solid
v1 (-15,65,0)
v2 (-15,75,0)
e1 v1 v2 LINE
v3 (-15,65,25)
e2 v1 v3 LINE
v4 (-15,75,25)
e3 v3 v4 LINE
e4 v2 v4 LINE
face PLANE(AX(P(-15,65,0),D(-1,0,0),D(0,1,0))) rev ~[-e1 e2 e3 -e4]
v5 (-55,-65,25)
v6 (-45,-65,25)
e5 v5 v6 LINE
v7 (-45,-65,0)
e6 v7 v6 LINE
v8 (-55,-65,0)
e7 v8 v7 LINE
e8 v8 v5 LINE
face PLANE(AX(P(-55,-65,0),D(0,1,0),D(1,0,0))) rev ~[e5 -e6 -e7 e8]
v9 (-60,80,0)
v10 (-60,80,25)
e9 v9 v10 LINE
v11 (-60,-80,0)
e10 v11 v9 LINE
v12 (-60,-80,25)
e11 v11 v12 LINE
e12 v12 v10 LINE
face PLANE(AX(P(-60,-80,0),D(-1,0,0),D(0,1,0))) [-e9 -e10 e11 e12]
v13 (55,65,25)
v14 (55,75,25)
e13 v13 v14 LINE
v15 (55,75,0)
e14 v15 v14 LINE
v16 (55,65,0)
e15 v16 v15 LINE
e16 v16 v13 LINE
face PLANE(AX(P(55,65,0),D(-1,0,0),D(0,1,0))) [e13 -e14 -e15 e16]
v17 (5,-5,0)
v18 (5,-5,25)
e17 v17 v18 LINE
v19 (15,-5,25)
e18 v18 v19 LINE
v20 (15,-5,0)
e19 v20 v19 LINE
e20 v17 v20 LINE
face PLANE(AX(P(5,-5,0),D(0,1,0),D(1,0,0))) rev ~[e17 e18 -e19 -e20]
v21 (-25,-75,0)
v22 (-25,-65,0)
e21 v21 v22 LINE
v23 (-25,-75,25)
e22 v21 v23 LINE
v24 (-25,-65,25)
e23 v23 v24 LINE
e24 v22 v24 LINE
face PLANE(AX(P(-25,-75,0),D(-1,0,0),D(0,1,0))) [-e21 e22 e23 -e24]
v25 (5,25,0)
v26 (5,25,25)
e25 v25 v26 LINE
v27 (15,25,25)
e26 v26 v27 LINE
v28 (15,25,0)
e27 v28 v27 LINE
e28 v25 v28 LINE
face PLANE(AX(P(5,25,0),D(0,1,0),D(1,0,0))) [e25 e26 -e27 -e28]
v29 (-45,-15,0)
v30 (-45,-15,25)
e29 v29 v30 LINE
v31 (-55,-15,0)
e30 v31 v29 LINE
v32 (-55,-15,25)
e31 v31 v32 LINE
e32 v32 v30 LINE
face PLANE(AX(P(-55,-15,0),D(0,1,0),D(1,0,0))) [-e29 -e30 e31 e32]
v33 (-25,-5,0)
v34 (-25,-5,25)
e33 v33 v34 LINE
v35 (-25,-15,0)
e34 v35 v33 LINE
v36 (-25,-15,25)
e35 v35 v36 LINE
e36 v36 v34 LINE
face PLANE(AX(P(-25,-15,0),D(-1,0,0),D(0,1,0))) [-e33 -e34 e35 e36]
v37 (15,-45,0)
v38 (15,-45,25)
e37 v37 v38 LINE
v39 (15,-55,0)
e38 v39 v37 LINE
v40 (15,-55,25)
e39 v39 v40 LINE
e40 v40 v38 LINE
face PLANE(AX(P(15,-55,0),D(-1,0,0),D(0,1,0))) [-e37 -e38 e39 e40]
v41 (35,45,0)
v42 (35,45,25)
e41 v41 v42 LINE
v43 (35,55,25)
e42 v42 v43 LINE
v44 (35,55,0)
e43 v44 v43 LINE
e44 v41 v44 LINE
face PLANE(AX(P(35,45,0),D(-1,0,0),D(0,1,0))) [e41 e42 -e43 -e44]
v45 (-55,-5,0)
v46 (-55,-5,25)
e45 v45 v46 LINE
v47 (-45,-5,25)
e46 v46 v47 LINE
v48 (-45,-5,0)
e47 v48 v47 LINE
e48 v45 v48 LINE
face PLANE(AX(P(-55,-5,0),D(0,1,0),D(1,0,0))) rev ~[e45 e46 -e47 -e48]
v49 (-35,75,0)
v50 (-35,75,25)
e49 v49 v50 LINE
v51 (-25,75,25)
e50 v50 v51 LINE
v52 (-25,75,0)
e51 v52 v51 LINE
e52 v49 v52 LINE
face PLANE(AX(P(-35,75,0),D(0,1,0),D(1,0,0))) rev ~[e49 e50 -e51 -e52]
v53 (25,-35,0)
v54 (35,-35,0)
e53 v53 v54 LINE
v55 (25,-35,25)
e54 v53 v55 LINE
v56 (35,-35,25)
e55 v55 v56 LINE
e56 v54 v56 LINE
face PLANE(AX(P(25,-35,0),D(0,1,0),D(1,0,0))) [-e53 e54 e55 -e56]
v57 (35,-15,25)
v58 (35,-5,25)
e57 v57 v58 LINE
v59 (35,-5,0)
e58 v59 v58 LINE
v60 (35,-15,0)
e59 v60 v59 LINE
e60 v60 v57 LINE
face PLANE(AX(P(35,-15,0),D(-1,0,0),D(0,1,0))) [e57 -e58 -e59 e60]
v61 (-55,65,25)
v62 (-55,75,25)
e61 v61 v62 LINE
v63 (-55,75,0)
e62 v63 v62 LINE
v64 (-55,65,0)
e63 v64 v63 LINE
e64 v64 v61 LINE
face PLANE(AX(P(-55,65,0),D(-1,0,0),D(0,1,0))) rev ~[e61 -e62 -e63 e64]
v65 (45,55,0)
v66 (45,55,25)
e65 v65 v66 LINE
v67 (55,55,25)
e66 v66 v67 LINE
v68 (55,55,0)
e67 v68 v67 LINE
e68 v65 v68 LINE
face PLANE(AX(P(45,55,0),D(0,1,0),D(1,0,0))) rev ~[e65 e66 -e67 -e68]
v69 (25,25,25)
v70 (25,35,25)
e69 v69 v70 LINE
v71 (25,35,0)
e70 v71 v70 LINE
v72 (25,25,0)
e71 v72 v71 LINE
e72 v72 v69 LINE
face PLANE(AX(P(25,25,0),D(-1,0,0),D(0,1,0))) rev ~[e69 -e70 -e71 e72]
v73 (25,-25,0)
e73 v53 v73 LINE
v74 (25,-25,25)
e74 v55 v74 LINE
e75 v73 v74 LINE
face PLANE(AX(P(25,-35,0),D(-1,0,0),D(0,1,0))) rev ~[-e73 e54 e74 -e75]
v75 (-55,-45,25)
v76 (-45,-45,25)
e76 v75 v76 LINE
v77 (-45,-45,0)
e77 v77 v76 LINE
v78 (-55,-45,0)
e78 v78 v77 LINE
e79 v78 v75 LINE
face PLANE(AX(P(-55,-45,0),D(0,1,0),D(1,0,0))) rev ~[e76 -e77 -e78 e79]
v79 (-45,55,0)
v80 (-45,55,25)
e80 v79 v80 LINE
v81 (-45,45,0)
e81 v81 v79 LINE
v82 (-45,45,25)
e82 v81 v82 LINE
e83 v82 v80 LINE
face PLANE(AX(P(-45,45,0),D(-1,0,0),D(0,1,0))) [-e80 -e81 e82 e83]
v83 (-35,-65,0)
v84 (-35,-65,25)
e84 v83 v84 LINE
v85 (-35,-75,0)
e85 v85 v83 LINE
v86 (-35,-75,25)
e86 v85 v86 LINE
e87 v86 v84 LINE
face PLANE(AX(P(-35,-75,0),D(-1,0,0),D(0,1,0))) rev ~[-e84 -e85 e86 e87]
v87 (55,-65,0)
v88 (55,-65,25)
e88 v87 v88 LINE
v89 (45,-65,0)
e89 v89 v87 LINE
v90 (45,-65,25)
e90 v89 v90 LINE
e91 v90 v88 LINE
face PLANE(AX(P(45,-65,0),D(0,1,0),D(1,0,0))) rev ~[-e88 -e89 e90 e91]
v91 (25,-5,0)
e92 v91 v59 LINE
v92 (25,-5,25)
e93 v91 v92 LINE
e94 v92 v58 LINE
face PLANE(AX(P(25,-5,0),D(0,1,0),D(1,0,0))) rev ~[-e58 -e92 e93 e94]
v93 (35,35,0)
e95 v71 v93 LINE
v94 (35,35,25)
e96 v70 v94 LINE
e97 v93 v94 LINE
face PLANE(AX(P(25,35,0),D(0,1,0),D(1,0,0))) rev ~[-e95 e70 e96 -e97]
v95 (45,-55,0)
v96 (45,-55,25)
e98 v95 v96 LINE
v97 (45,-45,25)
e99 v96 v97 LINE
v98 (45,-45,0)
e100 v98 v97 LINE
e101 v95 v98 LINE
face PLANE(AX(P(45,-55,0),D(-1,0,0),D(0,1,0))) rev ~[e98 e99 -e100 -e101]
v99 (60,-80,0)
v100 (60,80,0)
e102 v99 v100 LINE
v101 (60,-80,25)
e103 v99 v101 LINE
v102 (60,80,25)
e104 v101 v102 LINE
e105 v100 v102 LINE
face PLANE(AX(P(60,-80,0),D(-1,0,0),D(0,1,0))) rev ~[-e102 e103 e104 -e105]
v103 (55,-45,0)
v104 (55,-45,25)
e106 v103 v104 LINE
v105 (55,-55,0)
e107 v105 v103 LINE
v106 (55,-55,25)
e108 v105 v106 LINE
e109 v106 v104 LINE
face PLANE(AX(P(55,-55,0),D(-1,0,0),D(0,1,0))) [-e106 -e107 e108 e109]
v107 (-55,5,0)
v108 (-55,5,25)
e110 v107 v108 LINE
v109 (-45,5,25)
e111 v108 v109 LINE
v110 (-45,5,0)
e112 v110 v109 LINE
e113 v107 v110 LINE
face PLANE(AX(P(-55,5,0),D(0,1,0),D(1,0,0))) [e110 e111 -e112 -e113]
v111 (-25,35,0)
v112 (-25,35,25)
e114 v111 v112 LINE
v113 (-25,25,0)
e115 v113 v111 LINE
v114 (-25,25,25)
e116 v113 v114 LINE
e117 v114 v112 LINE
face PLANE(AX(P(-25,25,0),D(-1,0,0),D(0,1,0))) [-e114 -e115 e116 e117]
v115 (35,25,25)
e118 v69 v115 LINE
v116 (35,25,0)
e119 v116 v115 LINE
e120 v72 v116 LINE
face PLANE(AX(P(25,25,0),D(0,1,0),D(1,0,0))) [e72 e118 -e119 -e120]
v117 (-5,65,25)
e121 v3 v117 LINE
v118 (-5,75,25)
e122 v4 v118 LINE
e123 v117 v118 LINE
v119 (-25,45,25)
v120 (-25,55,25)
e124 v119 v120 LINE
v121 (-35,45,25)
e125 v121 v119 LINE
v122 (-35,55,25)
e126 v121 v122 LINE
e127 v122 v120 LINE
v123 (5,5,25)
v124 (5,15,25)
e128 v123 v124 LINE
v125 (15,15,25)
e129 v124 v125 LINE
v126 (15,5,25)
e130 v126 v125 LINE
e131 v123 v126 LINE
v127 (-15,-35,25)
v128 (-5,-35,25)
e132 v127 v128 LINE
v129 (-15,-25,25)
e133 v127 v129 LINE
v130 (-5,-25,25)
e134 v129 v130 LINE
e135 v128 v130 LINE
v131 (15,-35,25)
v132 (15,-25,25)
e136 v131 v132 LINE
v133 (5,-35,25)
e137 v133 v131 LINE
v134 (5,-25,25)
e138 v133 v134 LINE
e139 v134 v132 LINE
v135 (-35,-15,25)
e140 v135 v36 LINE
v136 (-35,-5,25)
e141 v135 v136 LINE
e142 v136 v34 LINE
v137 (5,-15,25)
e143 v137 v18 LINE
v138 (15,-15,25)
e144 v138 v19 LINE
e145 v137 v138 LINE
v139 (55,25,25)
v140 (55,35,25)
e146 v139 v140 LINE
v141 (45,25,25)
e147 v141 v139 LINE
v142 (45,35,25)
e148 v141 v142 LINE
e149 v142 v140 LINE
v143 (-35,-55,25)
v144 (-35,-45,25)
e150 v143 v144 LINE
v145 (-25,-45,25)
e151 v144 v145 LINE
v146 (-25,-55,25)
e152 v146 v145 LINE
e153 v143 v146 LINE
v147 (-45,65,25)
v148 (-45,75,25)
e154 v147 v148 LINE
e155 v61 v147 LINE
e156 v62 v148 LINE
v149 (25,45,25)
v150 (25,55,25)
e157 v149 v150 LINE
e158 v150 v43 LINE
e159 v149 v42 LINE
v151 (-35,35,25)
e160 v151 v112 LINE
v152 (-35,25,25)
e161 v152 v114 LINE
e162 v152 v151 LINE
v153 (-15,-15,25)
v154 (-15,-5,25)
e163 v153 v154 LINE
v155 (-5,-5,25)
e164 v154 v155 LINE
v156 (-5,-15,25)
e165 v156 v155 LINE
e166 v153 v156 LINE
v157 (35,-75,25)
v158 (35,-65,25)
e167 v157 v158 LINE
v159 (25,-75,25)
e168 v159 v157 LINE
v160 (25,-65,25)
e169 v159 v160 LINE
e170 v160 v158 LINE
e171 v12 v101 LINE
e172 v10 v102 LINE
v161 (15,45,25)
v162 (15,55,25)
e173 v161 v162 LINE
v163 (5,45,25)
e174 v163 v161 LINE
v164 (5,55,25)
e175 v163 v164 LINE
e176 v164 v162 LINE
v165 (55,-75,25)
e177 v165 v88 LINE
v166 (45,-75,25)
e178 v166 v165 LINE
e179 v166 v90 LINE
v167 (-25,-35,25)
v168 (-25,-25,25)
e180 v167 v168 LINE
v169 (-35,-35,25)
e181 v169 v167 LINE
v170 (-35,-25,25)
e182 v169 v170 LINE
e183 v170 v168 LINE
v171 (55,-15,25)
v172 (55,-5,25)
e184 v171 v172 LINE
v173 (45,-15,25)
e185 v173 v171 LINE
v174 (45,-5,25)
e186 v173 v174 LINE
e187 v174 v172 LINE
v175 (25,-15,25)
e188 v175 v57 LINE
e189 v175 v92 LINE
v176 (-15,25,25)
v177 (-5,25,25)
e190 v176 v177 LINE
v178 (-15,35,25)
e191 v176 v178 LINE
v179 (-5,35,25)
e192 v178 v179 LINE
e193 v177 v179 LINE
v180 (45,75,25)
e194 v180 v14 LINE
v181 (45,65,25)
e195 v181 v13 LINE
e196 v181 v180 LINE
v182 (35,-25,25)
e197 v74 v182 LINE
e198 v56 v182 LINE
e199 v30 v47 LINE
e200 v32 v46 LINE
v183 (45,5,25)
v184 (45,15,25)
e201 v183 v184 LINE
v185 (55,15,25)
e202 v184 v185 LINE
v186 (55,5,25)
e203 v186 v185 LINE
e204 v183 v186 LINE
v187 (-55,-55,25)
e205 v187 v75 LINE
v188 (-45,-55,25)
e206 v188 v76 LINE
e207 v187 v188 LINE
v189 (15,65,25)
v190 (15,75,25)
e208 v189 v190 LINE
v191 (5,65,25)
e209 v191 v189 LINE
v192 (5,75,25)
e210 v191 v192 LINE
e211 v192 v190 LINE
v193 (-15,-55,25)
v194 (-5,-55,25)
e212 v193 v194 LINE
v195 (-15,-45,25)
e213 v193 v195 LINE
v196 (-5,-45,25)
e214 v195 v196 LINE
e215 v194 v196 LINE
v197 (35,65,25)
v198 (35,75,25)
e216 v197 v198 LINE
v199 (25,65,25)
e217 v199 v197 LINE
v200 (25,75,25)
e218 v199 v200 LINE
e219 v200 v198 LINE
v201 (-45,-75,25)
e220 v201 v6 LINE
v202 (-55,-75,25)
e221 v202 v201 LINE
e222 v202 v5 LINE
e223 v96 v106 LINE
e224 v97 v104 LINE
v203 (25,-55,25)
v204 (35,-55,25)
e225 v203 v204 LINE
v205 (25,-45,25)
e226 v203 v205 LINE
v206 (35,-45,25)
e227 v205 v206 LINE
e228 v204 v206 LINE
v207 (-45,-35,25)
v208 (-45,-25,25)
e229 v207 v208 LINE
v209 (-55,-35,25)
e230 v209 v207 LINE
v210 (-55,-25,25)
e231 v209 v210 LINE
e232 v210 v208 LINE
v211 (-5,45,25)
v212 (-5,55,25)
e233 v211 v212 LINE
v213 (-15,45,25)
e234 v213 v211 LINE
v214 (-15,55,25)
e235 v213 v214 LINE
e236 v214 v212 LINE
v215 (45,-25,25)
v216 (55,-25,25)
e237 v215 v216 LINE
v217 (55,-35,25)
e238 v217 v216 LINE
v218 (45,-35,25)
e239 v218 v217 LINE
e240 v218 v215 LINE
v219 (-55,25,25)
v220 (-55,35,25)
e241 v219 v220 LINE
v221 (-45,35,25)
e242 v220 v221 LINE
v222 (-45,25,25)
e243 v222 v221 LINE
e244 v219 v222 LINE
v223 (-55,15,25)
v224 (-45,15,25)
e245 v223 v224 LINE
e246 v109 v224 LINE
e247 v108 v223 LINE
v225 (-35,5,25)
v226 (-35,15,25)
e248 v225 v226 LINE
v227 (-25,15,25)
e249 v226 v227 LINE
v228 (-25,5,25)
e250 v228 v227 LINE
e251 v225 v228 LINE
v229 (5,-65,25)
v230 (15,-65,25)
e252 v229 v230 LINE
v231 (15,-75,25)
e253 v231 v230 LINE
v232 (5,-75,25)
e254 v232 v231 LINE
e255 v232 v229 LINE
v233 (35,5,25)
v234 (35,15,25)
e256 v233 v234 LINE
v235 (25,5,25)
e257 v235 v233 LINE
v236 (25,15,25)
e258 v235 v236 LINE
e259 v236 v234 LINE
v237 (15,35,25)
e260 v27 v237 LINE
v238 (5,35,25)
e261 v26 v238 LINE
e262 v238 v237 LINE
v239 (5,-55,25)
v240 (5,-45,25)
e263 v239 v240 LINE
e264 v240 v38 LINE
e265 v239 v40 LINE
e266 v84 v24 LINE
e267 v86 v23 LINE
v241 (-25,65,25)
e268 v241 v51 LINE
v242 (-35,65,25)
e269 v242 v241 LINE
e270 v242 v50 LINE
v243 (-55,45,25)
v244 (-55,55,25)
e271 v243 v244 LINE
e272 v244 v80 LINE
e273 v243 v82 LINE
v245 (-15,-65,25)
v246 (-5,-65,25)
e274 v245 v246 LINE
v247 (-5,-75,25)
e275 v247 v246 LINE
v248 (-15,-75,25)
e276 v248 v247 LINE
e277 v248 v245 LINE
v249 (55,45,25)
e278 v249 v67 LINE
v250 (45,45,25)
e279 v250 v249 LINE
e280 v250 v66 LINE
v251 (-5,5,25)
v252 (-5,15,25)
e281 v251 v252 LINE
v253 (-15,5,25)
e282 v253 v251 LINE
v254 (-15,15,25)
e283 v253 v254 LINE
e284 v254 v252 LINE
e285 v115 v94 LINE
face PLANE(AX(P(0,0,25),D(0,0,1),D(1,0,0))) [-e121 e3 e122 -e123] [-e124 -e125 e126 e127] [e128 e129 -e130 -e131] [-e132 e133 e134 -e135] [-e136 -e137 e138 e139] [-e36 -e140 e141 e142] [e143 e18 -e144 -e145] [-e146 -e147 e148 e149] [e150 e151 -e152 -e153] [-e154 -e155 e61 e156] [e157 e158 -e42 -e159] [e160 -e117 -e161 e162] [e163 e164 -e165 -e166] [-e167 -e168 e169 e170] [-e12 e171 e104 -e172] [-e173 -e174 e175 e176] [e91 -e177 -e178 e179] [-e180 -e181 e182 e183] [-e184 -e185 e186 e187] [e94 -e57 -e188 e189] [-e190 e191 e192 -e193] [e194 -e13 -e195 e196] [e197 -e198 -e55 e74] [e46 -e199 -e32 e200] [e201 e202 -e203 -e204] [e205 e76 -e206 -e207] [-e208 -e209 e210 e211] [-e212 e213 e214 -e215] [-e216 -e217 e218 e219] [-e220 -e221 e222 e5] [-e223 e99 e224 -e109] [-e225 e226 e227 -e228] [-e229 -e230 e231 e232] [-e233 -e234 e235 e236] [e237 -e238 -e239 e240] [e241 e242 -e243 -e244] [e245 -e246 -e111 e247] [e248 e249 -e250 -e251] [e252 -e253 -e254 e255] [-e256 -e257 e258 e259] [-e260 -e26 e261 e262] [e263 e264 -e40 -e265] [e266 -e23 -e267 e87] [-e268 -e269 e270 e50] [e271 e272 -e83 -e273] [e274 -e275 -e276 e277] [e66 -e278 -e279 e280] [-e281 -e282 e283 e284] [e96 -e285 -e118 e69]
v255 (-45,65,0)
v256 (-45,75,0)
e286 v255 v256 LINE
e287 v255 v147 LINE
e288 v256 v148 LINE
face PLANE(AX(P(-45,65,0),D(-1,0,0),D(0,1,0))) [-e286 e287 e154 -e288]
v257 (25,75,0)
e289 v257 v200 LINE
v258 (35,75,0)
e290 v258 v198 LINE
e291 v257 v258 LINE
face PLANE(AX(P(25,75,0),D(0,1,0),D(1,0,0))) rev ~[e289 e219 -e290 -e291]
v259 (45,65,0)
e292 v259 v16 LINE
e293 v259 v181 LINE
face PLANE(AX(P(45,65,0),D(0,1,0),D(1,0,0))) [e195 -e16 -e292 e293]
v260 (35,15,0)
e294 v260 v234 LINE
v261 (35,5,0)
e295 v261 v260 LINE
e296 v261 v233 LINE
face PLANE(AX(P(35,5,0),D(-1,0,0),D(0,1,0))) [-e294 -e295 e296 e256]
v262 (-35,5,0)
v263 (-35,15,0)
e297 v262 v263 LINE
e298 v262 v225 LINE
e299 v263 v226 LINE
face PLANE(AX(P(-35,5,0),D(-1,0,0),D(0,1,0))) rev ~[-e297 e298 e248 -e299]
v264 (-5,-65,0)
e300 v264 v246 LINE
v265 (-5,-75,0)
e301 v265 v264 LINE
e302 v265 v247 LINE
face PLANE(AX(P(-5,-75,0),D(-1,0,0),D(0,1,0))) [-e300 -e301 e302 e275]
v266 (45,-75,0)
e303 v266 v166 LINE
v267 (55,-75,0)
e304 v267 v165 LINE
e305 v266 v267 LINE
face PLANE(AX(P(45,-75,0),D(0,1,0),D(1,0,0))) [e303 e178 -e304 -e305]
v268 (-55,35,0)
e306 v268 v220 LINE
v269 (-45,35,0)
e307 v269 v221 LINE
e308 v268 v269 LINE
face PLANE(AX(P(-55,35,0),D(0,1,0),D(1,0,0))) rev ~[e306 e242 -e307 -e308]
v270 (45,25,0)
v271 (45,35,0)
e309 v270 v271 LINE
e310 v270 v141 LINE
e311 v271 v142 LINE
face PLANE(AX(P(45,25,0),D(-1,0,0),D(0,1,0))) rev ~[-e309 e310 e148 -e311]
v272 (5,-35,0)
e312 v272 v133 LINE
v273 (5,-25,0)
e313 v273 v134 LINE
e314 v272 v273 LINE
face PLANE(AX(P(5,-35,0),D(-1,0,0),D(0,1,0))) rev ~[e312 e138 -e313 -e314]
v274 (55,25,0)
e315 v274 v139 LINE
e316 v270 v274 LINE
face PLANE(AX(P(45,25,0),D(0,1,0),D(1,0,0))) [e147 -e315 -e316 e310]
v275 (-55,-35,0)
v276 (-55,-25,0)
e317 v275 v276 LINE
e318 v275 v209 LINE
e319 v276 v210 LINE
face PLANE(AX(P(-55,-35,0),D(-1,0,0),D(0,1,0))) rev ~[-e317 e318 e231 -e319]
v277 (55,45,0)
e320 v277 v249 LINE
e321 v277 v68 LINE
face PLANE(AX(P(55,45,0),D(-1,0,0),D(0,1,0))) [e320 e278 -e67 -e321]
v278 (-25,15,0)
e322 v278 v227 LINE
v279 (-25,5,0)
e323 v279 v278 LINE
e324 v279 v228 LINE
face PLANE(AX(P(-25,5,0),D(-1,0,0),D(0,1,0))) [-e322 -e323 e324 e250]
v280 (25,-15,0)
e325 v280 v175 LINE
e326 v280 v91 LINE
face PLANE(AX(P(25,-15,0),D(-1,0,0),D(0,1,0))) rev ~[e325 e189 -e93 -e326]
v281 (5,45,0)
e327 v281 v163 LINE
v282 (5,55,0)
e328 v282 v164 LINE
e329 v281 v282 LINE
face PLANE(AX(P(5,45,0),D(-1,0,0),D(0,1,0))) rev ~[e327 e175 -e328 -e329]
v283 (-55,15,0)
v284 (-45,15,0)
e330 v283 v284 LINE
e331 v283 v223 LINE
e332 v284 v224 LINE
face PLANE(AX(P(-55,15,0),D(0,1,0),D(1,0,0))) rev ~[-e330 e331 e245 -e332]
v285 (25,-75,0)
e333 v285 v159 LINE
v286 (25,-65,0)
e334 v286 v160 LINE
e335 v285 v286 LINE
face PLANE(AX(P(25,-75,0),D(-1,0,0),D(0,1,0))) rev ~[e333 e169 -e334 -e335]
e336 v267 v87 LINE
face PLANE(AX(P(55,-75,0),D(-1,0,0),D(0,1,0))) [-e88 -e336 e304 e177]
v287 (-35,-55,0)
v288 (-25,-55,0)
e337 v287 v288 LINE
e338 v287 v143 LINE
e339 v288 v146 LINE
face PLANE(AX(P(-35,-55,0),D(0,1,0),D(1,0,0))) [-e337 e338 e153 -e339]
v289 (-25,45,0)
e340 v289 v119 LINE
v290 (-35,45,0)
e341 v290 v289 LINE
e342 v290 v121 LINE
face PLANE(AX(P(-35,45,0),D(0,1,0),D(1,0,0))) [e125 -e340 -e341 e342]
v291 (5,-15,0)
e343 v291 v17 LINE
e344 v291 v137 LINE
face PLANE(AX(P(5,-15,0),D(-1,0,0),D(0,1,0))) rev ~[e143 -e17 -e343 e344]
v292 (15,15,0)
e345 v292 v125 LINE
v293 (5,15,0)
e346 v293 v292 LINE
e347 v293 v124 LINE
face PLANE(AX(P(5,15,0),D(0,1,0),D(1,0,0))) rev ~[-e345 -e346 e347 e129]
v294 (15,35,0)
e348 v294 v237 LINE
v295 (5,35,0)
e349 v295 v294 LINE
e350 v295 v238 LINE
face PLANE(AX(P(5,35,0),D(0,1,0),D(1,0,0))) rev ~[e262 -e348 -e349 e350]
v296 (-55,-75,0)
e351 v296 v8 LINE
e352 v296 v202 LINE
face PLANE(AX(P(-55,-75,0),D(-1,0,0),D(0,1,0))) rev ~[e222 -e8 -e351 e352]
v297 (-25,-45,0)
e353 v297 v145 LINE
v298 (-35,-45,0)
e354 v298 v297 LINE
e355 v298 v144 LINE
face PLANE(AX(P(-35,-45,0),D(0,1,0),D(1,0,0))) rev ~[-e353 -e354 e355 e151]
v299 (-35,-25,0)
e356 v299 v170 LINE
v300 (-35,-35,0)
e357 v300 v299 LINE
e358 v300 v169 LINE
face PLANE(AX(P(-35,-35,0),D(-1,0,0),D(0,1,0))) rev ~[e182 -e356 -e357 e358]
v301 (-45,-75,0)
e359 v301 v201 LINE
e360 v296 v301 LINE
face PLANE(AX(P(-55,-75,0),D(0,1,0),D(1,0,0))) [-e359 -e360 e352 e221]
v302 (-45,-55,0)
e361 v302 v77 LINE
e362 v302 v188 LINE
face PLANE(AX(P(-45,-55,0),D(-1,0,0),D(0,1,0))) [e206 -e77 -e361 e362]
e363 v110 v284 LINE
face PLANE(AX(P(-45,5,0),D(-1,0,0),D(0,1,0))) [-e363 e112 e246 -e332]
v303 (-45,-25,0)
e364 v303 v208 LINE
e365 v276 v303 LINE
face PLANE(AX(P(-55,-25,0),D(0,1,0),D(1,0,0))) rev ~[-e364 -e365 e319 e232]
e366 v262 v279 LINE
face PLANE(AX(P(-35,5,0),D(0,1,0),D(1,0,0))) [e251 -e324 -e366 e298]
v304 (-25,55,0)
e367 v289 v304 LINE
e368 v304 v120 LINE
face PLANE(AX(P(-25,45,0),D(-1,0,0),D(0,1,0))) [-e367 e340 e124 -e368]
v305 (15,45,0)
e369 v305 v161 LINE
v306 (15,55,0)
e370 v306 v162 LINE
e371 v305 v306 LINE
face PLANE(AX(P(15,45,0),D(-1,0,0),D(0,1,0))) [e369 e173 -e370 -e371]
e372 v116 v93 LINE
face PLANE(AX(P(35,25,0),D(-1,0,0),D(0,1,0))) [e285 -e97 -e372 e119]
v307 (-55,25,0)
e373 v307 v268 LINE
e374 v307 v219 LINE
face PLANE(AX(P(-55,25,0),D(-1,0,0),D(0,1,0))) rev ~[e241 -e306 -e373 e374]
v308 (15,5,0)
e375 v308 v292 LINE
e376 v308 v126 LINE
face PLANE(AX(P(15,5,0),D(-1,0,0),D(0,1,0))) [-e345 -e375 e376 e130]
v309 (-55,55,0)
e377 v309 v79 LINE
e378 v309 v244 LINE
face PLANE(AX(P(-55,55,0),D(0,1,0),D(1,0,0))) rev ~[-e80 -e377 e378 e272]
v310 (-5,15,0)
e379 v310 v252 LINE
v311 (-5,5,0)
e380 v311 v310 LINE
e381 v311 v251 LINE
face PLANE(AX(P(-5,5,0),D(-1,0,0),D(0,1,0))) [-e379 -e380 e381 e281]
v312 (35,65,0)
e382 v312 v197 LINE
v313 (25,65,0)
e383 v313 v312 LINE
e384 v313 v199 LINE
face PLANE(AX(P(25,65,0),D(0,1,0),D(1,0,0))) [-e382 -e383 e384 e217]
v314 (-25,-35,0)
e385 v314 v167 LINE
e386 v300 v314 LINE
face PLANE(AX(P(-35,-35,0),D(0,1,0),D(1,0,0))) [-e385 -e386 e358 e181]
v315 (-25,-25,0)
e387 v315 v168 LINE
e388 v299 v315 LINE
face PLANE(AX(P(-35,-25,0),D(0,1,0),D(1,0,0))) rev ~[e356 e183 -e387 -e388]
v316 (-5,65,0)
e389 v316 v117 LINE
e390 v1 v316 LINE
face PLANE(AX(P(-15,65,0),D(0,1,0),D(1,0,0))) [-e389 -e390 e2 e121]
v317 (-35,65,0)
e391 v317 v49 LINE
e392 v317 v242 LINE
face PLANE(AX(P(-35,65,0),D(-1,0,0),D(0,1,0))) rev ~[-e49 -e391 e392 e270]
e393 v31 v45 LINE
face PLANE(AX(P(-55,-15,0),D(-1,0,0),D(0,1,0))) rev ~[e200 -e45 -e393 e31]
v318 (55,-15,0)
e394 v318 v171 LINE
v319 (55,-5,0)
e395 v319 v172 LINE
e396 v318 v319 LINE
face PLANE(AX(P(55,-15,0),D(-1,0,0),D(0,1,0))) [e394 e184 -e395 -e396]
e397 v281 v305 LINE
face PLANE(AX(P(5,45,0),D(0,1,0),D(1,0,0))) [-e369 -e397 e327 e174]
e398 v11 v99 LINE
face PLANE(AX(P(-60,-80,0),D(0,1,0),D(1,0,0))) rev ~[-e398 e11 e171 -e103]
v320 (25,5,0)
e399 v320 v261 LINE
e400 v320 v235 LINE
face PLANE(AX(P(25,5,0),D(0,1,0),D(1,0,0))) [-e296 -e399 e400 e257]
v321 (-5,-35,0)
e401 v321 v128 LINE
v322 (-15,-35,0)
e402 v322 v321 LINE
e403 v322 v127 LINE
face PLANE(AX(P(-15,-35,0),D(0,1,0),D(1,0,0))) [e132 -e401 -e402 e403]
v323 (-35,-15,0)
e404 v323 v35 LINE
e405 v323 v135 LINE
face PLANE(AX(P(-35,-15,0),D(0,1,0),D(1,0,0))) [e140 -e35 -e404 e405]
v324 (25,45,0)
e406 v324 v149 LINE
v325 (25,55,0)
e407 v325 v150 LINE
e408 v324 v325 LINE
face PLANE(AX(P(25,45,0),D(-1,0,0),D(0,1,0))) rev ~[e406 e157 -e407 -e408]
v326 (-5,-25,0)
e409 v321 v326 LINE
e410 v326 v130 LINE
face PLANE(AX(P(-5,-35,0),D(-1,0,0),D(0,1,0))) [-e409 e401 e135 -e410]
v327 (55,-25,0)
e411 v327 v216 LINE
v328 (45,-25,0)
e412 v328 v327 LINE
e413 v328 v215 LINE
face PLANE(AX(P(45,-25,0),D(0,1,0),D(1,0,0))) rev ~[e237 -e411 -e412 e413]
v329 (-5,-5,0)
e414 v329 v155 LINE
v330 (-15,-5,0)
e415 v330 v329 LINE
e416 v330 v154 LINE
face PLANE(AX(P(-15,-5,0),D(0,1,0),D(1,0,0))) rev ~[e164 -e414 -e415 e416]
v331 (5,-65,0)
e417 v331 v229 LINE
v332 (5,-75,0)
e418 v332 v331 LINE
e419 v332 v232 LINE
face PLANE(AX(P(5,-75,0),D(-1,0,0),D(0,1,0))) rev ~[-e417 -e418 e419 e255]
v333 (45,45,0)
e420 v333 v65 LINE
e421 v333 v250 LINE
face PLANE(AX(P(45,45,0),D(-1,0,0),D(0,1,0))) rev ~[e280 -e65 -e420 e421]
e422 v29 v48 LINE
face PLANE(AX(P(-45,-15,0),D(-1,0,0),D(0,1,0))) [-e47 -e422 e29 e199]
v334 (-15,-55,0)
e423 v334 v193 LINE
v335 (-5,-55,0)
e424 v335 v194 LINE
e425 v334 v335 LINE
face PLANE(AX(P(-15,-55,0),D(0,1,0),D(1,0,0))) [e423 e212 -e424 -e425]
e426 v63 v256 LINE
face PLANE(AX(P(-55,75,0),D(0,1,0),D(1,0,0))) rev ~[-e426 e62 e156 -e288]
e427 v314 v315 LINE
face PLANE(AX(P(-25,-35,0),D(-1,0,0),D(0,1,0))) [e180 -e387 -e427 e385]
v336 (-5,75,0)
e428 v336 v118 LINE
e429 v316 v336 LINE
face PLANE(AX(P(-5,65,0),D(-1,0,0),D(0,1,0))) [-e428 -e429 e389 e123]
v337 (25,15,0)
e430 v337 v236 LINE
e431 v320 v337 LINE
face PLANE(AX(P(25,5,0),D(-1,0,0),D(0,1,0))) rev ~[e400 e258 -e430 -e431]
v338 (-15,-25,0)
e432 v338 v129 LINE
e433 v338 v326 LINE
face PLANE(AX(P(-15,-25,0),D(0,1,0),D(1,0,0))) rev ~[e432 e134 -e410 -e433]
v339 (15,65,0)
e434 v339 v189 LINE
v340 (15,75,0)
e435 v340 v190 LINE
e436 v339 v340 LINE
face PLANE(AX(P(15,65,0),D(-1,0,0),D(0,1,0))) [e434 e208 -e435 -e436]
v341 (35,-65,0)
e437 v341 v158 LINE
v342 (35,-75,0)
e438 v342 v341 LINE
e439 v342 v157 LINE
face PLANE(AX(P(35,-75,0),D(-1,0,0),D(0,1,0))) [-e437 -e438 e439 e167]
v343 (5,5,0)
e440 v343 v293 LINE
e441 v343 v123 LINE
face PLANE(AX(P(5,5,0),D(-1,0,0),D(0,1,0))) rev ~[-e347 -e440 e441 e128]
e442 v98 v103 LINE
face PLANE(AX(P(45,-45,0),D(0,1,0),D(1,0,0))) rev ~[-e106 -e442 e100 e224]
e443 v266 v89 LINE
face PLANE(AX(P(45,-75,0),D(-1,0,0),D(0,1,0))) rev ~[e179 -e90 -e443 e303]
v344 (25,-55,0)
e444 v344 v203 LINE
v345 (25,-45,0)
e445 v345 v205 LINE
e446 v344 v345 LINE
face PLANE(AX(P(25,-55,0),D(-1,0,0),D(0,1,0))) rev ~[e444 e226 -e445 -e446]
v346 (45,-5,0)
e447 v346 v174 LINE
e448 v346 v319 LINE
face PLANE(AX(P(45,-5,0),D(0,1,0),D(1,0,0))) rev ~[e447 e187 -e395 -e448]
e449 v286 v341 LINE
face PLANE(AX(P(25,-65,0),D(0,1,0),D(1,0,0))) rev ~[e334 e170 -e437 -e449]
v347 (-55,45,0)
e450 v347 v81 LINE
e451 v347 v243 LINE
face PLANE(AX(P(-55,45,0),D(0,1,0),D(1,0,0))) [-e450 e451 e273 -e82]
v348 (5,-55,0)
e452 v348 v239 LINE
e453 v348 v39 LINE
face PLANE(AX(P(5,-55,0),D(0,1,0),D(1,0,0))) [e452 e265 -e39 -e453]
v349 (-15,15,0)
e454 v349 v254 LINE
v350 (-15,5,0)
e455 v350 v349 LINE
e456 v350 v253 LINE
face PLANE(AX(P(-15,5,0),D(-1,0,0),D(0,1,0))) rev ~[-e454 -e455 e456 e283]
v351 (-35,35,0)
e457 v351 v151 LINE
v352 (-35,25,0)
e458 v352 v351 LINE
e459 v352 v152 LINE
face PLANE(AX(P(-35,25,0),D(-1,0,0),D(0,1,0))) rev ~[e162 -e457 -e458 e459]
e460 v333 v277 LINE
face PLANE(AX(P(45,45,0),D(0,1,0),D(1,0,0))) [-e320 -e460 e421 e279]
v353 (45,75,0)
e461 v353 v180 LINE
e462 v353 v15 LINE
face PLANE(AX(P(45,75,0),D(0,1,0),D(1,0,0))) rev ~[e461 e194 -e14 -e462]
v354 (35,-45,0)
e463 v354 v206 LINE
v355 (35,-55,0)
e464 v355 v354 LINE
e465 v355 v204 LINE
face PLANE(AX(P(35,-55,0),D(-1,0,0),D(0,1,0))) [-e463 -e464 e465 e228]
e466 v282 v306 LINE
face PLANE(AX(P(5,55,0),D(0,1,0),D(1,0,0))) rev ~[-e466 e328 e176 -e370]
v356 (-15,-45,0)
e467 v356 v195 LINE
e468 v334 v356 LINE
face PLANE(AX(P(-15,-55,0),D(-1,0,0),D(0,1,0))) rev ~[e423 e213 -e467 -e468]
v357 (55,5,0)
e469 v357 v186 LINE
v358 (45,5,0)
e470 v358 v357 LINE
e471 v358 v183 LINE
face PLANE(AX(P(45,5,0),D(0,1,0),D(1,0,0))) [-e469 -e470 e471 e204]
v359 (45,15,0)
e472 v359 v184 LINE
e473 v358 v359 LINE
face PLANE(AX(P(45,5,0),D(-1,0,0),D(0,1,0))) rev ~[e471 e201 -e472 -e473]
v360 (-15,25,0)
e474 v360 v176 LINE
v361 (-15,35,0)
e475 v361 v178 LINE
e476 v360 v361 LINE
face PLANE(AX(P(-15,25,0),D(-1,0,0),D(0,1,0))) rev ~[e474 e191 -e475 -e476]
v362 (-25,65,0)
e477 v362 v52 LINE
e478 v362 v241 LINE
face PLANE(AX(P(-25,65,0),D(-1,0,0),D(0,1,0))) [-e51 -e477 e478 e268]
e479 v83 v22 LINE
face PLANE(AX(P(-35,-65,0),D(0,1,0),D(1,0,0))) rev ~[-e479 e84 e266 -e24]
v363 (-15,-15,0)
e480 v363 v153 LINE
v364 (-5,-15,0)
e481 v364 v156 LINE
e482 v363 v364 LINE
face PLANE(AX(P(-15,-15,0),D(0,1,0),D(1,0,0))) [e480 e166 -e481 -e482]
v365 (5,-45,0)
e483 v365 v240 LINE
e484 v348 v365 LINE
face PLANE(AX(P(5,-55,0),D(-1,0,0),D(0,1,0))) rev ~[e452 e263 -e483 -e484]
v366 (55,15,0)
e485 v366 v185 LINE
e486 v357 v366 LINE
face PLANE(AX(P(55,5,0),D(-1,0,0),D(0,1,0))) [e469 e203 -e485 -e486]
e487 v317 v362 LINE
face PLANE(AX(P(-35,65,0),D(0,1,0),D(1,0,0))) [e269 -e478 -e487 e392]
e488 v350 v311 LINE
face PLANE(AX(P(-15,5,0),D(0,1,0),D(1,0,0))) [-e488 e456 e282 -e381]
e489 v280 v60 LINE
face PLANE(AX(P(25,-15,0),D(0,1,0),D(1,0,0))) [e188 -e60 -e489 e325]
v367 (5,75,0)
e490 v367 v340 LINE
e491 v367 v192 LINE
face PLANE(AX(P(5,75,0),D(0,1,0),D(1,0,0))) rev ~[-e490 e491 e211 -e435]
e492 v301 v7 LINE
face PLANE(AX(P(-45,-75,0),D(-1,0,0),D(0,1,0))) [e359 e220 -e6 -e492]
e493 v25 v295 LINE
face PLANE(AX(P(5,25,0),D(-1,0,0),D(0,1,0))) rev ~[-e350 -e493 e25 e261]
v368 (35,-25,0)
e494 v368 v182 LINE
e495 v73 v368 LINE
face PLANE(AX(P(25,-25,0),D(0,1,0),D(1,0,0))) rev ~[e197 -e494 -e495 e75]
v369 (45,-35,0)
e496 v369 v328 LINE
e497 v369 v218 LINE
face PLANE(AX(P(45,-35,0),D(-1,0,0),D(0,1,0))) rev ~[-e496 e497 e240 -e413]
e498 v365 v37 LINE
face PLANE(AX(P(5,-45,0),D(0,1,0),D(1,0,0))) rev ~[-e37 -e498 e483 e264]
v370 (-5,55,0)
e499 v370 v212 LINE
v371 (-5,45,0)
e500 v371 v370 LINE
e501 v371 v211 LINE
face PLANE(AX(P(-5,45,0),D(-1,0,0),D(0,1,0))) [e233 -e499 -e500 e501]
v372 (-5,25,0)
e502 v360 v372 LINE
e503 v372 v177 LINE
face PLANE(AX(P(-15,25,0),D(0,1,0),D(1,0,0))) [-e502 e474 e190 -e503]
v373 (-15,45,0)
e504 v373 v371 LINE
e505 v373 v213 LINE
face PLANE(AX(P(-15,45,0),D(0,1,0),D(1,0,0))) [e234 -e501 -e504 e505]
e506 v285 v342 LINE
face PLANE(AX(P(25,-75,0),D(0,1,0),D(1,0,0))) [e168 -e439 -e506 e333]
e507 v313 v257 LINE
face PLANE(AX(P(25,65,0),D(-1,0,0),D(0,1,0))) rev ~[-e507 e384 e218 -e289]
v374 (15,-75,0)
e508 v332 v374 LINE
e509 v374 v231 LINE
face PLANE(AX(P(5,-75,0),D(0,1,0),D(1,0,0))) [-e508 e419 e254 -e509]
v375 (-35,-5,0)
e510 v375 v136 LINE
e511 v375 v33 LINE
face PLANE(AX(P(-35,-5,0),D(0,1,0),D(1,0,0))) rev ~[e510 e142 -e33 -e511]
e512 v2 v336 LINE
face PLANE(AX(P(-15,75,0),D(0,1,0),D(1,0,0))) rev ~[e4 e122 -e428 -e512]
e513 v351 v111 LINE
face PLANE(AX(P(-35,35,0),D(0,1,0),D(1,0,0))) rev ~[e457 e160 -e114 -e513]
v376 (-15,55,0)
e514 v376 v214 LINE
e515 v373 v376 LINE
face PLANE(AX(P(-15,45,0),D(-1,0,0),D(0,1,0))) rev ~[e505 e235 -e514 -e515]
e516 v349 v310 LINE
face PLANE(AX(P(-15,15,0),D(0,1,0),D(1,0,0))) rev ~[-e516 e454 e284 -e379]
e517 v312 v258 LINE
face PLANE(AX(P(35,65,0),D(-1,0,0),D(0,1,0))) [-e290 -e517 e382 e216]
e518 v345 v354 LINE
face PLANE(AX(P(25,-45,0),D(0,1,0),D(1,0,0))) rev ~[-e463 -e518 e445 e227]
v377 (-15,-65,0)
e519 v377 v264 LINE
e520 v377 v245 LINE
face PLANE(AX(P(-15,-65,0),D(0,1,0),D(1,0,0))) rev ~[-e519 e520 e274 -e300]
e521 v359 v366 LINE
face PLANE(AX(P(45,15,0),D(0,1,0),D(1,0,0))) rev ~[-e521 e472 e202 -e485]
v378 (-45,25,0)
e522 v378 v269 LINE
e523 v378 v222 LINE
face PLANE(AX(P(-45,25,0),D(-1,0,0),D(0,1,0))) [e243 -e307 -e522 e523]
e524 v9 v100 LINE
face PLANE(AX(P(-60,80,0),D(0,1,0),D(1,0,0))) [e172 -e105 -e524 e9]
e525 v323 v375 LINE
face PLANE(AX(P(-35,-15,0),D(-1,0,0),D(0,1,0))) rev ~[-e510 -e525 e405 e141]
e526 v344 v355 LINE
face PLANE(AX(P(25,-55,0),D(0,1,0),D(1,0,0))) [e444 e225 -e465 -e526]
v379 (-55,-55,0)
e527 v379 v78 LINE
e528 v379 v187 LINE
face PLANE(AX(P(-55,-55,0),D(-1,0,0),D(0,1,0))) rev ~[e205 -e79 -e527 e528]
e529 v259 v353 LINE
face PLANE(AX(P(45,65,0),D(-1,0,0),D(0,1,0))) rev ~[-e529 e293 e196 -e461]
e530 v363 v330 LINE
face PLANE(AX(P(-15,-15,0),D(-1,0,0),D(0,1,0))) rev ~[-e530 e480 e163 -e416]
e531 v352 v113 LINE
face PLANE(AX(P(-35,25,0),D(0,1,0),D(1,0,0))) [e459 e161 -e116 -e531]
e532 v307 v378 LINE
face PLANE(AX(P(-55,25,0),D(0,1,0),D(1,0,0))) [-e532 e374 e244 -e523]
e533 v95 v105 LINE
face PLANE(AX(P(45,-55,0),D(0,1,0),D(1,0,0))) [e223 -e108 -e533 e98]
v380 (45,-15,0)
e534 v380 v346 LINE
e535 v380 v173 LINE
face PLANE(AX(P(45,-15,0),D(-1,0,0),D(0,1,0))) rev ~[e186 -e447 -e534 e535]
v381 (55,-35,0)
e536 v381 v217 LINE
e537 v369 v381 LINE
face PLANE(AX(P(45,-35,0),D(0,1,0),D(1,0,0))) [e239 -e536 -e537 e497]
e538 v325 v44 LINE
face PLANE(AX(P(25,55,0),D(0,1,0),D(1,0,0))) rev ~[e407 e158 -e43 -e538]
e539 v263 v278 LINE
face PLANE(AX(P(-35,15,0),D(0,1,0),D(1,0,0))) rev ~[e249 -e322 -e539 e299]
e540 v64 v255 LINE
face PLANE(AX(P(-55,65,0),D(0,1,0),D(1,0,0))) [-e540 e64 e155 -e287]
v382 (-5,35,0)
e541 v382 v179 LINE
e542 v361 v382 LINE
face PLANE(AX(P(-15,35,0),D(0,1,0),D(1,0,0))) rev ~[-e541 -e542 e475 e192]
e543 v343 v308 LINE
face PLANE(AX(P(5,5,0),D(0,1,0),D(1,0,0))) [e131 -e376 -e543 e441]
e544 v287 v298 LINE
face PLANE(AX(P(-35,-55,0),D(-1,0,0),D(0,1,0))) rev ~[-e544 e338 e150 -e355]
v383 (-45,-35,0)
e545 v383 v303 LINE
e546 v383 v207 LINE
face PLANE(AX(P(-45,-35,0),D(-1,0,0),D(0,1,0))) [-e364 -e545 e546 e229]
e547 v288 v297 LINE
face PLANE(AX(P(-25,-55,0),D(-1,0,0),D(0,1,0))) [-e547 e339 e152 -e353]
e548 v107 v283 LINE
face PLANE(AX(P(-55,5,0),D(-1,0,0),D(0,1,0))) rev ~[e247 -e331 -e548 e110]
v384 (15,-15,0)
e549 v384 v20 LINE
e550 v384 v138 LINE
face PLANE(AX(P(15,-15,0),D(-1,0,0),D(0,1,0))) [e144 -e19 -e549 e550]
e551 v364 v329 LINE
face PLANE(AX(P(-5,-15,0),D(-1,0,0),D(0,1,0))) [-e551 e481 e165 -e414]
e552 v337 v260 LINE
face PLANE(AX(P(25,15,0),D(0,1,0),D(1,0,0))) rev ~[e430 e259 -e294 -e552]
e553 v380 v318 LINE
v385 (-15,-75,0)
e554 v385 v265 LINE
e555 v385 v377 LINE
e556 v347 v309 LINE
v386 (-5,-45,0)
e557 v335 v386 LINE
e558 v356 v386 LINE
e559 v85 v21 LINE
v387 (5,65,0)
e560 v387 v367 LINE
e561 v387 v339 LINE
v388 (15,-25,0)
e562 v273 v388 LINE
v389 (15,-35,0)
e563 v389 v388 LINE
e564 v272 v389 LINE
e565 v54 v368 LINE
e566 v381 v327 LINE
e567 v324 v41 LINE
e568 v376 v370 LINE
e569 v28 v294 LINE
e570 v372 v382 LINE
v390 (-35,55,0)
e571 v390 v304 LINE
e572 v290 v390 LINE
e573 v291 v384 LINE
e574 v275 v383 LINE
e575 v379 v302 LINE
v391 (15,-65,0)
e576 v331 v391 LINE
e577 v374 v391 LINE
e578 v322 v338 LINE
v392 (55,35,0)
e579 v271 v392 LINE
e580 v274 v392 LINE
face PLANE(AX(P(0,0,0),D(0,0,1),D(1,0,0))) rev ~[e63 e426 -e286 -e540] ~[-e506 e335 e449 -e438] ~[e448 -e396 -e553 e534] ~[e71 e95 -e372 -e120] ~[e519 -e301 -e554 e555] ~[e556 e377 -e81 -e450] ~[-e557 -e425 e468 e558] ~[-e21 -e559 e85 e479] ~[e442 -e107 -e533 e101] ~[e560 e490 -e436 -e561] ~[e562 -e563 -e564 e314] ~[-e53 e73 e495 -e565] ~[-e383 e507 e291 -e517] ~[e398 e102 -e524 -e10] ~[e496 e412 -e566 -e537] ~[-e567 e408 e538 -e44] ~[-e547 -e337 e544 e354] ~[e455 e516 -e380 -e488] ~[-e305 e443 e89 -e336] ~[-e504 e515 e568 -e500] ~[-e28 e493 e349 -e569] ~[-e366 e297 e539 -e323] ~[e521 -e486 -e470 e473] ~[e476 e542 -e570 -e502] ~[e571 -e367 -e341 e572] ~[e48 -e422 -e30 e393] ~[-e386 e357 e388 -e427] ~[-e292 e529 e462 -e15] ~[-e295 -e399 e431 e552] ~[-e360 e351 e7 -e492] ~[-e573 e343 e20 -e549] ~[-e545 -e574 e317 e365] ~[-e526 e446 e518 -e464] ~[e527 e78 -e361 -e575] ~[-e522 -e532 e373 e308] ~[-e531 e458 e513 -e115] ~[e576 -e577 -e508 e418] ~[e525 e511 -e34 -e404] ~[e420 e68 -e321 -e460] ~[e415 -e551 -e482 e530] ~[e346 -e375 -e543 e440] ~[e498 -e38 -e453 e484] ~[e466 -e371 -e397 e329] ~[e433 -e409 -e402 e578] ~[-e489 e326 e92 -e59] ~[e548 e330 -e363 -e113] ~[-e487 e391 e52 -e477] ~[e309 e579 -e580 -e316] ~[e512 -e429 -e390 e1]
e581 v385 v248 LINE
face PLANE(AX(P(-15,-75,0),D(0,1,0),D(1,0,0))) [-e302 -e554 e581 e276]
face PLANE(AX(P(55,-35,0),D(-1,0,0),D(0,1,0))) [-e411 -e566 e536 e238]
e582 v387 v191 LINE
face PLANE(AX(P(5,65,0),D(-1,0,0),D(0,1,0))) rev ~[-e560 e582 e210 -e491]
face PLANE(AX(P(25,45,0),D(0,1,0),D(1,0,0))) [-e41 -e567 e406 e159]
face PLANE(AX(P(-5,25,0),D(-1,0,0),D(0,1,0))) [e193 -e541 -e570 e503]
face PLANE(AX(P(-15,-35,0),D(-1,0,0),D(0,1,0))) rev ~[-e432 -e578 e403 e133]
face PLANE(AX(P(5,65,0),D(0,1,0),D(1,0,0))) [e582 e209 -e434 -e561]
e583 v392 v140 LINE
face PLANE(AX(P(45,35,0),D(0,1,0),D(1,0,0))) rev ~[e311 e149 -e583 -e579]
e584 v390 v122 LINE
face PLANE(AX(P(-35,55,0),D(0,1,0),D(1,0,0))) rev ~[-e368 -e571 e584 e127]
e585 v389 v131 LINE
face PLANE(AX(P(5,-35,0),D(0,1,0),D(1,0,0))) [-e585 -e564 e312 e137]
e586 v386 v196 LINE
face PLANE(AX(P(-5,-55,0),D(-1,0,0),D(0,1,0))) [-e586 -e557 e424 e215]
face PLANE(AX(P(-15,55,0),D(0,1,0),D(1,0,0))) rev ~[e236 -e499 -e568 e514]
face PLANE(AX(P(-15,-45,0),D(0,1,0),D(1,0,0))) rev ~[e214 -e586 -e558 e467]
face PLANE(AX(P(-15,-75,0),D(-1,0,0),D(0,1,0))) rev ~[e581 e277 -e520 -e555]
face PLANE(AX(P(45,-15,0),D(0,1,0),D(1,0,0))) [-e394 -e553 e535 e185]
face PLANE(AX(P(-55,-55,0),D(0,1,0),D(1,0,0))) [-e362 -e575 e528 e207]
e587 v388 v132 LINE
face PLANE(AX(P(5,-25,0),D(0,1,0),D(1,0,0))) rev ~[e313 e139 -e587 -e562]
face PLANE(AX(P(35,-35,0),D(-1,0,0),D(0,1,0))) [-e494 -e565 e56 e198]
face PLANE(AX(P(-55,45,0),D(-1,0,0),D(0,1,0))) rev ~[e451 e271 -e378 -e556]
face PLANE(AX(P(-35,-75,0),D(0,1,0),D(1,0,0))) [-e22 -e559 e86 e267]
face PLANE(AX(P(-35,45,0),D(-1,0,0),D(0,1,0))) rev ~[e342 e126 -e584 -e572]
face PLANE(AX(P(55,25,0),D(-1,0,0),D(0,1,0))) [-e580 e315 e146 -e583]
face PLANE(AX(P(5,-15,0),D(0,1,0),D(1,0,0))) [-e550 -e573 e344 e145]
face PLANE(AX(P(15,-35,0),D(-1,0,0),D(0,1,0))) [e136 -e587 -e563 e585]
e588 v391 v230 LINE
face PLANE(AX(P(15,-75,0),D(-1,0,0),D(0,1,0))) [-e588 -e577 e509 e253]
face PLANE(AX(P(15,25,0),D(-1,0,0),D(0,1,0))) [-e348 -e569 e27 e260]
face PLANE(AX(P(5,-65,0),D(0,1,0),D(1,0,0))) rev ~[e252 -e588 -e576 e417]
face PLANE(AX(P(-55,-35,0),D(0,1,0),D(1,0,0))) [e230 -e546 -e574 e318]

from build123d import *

# Parameters (mm, degrees)
F0_W     = 120
F0_H     = 160
F0_W_2   = 10
F0_H_2   = 10
F1_DEPTH = 25


with BuildPart() as f1:
    # F0 (on Top) → F1 (new body)
    with BuildSketch(Plane.XY):
        Rectangle(F0_W, F0_H)
        with Locations((-50, -70)):
            Rectangle(F0_W_2, F0_H_2, mode=Mode.SUBTRACT)
        with Locations((-50, -50)):
            Rectangle(F0_W_2, F0_H_2, mode=Mode.SUBTRACT)
        with Locations((-30, -70)):
            Rectangle(F0_W_2, F0_H_2, mode=Mode.SUBTRACT)
        with Locations((-10, -70)):
            Rectangle(F0_W_2, F0_H_2, mode=Mode.SUBTRACT)
        with Locations((-30, -50)):
            Rectangle(F0_W_2, F0_H_2, mode=Mode.SUBTRACT)
        with Locations((-10, -50)):
            Rectangle(F0_W_2, F0_H_2, mode=Mode.SUBTRACT)
        with Locations((-50, -30)):
            Rectangle(F0_W_2, F0_H_2, mode=Mode.SUBTRACT)
        with Locations((-50, -10)):
            Rectangle(F0_W_2, F0_H_2, mode=Mode.SUBTRACT)
        with Locations((-30, -30)):
            Rectangle(F0_W_2, F0_H_2, mode=Mode.SUBTRACT)
        with Locations((-10, -30)):
            Rectangle(F0_W_2, F0_H_2, mode=Mode.SUBTRACT)
        with Locations((-30, -10)):
            Rectangle(F0_W_2, F0_H_2, mode=Mode.SUBTRACT)
        with Locations((-10, -10)):
            Rectangle(F0_W_2, F0_H_2, mode=Mode.SUBTRACT)
        with Locations((10, -70)):
            Rectangle(F0_W_2, F0_H_2, mode=Mode.SUBTRACT)
        with Locations((10, -50)):
            Rectangle(F0_W_2, F0_H_2, mode=Mode.SUBTRACT)
        with Locations((30, -70)):
            Rectangle(F0_W_2, F0_H_2, mode=Mode.SUBTRACT)
        with Locations((50, -70)):
            Rectangle(F0_W_2, F0_H_2, mode=Mode.SUBTRACT)
        with Locations((30, -50)):
            Rectangle(F0_W_2, F0_H_2, mode=Mode.SUBTRACT)
        with Locations((50, -50)):
            Rectangle(F0_W_2, F0_H_2, mode=Mode.SUBTRACT)
        with Locations((10, -30)):
            Rectangle(F0_W_2, F0_H_2, mode=Mode.SUBTRACT)
        with Locations((10, -10)):
            Rectangle(F0_W_2, F0_H_2, mode=Mode.SUBTRACT)
        with Locations((30, -30)):
            Rectangle(F0_W_2, F0_H_2, mode=Mode.SUBTRACT)
        with Locations((50, -30)):
            Rectangle(F0_W_2, F0_H_2, mode=Mode.SUBTRACT)
        with Locations((30, -10)):
            Rectangle(F0_W_2, F0_H_2, mode=Mode.SUBTRACT)
        with Locations((50, -10)):
            Rectangle(F0_W_2, F0_H_2, mode=Mode.SUBTRACT)
        with Locations((-50, 10)):
            Rectangle(F0_W_2, F0_H_2, mode=Mode.SUBTRACT)
        with Locations((-50, 30)):
            Rectangle(F0_W_2, F0_H_2, mode=Mode.SUBTRACT)
        with Locations((-30, 10)):
            Rectangle(F0_W_2, F0_H_2, mode=Mode.SUBTRACT)
        with Locations((-10, 10)):
            Rectangle(F0_W_2, F0_H_2, mode=Mode.SUBTRACT)
        with Locations((-30, 30)):
            Rectangle(F0_W_2, F0_H_2, mode=Mode.SUBTRACT)
        with Locations((-10, 30)):
            Rectangle(F0_W_2, F0_H_2, mode=Mode.SUBTRACT)
        with Locations((-50, 50)):
            Rectangle(F0_W_2, F0_H_2, mode=Mode.SUBTRACT)
        with Locations((-50, 70)):
            Rectangle(F0_W_2, F0_H_2, mode=Mode.SUBTRACT)
        with Locations((-30, 50)):
            Rectangle(F0_W_2, F0_H_2, mode=Mode.SUBTRACT)
        with Locations((-10, 50)):
            Rectangle(F0_W_2, F0_H_2, mode=Mode.SUBTRACT)
        with Locations((-30, 70)):
            Rectangle(F0_W_2, F0_H_2, mode=Mode.SUBTRACT)
        with Locations((-10, 70)):
            Rectangle(F0_W_2, F0_H_2, mode=Mode.SUBTRACT)
        with Locations((10, 10)):
            Rectangle(F0_W_2, F0_H_2, mode=Mode.SUBTRACT)
        with Locations((10, 30)):
            Rectangle(F0_W_2, F0_H_2, mode=Mode.SUBTRACT)
        with Locations((30, 10)):
            Rectangle(F0_W_2, F0_H_2, mode=Mode.SUBTRACT)
        with Locations((50, 10)):
            Rectangle(F0_W_2, F0_H_2, mode=Mode.SUBTRACT)
        with Locations((30, 30)):
            Rectangle(F0_W_2, F0_H_2, mode=Mode.SUBTRACT)
        with Locations((50, 30)):
            Rectangle(F0_W_2, F0_H_2, mode=Mode.SUBTRACT)
        with Locations((10, 50)):
            Rectangle(F0_W_2, F0_H_2, mode=Mode.SUBTRACT)
        with Locations((10, 70)):
            Rectangle(F0_W_2, F0_H_2, mode=Mode.SUBTRACT)
        with Locations((30, 50)):
            Rectangle(F0_W_2, F0_H_2, mode=Mode.SUBTRACT)
        with Locations((50, 50)):
            Rectangle(F0_W_2, F0_H_2, mode=Mode.SUBTRACT)
        with Locations((30, 70)):
            Rectangle(F0_W_2, F0_H_2, mode=Mode.SUBTRACT)
        with Locations((50, 70)):
            Rectangle(F0_W_2, F0_H_2, mode=Mode.SUBTRACT)
    extrude(amount=F1_DEPTH)


solid = f1.part
